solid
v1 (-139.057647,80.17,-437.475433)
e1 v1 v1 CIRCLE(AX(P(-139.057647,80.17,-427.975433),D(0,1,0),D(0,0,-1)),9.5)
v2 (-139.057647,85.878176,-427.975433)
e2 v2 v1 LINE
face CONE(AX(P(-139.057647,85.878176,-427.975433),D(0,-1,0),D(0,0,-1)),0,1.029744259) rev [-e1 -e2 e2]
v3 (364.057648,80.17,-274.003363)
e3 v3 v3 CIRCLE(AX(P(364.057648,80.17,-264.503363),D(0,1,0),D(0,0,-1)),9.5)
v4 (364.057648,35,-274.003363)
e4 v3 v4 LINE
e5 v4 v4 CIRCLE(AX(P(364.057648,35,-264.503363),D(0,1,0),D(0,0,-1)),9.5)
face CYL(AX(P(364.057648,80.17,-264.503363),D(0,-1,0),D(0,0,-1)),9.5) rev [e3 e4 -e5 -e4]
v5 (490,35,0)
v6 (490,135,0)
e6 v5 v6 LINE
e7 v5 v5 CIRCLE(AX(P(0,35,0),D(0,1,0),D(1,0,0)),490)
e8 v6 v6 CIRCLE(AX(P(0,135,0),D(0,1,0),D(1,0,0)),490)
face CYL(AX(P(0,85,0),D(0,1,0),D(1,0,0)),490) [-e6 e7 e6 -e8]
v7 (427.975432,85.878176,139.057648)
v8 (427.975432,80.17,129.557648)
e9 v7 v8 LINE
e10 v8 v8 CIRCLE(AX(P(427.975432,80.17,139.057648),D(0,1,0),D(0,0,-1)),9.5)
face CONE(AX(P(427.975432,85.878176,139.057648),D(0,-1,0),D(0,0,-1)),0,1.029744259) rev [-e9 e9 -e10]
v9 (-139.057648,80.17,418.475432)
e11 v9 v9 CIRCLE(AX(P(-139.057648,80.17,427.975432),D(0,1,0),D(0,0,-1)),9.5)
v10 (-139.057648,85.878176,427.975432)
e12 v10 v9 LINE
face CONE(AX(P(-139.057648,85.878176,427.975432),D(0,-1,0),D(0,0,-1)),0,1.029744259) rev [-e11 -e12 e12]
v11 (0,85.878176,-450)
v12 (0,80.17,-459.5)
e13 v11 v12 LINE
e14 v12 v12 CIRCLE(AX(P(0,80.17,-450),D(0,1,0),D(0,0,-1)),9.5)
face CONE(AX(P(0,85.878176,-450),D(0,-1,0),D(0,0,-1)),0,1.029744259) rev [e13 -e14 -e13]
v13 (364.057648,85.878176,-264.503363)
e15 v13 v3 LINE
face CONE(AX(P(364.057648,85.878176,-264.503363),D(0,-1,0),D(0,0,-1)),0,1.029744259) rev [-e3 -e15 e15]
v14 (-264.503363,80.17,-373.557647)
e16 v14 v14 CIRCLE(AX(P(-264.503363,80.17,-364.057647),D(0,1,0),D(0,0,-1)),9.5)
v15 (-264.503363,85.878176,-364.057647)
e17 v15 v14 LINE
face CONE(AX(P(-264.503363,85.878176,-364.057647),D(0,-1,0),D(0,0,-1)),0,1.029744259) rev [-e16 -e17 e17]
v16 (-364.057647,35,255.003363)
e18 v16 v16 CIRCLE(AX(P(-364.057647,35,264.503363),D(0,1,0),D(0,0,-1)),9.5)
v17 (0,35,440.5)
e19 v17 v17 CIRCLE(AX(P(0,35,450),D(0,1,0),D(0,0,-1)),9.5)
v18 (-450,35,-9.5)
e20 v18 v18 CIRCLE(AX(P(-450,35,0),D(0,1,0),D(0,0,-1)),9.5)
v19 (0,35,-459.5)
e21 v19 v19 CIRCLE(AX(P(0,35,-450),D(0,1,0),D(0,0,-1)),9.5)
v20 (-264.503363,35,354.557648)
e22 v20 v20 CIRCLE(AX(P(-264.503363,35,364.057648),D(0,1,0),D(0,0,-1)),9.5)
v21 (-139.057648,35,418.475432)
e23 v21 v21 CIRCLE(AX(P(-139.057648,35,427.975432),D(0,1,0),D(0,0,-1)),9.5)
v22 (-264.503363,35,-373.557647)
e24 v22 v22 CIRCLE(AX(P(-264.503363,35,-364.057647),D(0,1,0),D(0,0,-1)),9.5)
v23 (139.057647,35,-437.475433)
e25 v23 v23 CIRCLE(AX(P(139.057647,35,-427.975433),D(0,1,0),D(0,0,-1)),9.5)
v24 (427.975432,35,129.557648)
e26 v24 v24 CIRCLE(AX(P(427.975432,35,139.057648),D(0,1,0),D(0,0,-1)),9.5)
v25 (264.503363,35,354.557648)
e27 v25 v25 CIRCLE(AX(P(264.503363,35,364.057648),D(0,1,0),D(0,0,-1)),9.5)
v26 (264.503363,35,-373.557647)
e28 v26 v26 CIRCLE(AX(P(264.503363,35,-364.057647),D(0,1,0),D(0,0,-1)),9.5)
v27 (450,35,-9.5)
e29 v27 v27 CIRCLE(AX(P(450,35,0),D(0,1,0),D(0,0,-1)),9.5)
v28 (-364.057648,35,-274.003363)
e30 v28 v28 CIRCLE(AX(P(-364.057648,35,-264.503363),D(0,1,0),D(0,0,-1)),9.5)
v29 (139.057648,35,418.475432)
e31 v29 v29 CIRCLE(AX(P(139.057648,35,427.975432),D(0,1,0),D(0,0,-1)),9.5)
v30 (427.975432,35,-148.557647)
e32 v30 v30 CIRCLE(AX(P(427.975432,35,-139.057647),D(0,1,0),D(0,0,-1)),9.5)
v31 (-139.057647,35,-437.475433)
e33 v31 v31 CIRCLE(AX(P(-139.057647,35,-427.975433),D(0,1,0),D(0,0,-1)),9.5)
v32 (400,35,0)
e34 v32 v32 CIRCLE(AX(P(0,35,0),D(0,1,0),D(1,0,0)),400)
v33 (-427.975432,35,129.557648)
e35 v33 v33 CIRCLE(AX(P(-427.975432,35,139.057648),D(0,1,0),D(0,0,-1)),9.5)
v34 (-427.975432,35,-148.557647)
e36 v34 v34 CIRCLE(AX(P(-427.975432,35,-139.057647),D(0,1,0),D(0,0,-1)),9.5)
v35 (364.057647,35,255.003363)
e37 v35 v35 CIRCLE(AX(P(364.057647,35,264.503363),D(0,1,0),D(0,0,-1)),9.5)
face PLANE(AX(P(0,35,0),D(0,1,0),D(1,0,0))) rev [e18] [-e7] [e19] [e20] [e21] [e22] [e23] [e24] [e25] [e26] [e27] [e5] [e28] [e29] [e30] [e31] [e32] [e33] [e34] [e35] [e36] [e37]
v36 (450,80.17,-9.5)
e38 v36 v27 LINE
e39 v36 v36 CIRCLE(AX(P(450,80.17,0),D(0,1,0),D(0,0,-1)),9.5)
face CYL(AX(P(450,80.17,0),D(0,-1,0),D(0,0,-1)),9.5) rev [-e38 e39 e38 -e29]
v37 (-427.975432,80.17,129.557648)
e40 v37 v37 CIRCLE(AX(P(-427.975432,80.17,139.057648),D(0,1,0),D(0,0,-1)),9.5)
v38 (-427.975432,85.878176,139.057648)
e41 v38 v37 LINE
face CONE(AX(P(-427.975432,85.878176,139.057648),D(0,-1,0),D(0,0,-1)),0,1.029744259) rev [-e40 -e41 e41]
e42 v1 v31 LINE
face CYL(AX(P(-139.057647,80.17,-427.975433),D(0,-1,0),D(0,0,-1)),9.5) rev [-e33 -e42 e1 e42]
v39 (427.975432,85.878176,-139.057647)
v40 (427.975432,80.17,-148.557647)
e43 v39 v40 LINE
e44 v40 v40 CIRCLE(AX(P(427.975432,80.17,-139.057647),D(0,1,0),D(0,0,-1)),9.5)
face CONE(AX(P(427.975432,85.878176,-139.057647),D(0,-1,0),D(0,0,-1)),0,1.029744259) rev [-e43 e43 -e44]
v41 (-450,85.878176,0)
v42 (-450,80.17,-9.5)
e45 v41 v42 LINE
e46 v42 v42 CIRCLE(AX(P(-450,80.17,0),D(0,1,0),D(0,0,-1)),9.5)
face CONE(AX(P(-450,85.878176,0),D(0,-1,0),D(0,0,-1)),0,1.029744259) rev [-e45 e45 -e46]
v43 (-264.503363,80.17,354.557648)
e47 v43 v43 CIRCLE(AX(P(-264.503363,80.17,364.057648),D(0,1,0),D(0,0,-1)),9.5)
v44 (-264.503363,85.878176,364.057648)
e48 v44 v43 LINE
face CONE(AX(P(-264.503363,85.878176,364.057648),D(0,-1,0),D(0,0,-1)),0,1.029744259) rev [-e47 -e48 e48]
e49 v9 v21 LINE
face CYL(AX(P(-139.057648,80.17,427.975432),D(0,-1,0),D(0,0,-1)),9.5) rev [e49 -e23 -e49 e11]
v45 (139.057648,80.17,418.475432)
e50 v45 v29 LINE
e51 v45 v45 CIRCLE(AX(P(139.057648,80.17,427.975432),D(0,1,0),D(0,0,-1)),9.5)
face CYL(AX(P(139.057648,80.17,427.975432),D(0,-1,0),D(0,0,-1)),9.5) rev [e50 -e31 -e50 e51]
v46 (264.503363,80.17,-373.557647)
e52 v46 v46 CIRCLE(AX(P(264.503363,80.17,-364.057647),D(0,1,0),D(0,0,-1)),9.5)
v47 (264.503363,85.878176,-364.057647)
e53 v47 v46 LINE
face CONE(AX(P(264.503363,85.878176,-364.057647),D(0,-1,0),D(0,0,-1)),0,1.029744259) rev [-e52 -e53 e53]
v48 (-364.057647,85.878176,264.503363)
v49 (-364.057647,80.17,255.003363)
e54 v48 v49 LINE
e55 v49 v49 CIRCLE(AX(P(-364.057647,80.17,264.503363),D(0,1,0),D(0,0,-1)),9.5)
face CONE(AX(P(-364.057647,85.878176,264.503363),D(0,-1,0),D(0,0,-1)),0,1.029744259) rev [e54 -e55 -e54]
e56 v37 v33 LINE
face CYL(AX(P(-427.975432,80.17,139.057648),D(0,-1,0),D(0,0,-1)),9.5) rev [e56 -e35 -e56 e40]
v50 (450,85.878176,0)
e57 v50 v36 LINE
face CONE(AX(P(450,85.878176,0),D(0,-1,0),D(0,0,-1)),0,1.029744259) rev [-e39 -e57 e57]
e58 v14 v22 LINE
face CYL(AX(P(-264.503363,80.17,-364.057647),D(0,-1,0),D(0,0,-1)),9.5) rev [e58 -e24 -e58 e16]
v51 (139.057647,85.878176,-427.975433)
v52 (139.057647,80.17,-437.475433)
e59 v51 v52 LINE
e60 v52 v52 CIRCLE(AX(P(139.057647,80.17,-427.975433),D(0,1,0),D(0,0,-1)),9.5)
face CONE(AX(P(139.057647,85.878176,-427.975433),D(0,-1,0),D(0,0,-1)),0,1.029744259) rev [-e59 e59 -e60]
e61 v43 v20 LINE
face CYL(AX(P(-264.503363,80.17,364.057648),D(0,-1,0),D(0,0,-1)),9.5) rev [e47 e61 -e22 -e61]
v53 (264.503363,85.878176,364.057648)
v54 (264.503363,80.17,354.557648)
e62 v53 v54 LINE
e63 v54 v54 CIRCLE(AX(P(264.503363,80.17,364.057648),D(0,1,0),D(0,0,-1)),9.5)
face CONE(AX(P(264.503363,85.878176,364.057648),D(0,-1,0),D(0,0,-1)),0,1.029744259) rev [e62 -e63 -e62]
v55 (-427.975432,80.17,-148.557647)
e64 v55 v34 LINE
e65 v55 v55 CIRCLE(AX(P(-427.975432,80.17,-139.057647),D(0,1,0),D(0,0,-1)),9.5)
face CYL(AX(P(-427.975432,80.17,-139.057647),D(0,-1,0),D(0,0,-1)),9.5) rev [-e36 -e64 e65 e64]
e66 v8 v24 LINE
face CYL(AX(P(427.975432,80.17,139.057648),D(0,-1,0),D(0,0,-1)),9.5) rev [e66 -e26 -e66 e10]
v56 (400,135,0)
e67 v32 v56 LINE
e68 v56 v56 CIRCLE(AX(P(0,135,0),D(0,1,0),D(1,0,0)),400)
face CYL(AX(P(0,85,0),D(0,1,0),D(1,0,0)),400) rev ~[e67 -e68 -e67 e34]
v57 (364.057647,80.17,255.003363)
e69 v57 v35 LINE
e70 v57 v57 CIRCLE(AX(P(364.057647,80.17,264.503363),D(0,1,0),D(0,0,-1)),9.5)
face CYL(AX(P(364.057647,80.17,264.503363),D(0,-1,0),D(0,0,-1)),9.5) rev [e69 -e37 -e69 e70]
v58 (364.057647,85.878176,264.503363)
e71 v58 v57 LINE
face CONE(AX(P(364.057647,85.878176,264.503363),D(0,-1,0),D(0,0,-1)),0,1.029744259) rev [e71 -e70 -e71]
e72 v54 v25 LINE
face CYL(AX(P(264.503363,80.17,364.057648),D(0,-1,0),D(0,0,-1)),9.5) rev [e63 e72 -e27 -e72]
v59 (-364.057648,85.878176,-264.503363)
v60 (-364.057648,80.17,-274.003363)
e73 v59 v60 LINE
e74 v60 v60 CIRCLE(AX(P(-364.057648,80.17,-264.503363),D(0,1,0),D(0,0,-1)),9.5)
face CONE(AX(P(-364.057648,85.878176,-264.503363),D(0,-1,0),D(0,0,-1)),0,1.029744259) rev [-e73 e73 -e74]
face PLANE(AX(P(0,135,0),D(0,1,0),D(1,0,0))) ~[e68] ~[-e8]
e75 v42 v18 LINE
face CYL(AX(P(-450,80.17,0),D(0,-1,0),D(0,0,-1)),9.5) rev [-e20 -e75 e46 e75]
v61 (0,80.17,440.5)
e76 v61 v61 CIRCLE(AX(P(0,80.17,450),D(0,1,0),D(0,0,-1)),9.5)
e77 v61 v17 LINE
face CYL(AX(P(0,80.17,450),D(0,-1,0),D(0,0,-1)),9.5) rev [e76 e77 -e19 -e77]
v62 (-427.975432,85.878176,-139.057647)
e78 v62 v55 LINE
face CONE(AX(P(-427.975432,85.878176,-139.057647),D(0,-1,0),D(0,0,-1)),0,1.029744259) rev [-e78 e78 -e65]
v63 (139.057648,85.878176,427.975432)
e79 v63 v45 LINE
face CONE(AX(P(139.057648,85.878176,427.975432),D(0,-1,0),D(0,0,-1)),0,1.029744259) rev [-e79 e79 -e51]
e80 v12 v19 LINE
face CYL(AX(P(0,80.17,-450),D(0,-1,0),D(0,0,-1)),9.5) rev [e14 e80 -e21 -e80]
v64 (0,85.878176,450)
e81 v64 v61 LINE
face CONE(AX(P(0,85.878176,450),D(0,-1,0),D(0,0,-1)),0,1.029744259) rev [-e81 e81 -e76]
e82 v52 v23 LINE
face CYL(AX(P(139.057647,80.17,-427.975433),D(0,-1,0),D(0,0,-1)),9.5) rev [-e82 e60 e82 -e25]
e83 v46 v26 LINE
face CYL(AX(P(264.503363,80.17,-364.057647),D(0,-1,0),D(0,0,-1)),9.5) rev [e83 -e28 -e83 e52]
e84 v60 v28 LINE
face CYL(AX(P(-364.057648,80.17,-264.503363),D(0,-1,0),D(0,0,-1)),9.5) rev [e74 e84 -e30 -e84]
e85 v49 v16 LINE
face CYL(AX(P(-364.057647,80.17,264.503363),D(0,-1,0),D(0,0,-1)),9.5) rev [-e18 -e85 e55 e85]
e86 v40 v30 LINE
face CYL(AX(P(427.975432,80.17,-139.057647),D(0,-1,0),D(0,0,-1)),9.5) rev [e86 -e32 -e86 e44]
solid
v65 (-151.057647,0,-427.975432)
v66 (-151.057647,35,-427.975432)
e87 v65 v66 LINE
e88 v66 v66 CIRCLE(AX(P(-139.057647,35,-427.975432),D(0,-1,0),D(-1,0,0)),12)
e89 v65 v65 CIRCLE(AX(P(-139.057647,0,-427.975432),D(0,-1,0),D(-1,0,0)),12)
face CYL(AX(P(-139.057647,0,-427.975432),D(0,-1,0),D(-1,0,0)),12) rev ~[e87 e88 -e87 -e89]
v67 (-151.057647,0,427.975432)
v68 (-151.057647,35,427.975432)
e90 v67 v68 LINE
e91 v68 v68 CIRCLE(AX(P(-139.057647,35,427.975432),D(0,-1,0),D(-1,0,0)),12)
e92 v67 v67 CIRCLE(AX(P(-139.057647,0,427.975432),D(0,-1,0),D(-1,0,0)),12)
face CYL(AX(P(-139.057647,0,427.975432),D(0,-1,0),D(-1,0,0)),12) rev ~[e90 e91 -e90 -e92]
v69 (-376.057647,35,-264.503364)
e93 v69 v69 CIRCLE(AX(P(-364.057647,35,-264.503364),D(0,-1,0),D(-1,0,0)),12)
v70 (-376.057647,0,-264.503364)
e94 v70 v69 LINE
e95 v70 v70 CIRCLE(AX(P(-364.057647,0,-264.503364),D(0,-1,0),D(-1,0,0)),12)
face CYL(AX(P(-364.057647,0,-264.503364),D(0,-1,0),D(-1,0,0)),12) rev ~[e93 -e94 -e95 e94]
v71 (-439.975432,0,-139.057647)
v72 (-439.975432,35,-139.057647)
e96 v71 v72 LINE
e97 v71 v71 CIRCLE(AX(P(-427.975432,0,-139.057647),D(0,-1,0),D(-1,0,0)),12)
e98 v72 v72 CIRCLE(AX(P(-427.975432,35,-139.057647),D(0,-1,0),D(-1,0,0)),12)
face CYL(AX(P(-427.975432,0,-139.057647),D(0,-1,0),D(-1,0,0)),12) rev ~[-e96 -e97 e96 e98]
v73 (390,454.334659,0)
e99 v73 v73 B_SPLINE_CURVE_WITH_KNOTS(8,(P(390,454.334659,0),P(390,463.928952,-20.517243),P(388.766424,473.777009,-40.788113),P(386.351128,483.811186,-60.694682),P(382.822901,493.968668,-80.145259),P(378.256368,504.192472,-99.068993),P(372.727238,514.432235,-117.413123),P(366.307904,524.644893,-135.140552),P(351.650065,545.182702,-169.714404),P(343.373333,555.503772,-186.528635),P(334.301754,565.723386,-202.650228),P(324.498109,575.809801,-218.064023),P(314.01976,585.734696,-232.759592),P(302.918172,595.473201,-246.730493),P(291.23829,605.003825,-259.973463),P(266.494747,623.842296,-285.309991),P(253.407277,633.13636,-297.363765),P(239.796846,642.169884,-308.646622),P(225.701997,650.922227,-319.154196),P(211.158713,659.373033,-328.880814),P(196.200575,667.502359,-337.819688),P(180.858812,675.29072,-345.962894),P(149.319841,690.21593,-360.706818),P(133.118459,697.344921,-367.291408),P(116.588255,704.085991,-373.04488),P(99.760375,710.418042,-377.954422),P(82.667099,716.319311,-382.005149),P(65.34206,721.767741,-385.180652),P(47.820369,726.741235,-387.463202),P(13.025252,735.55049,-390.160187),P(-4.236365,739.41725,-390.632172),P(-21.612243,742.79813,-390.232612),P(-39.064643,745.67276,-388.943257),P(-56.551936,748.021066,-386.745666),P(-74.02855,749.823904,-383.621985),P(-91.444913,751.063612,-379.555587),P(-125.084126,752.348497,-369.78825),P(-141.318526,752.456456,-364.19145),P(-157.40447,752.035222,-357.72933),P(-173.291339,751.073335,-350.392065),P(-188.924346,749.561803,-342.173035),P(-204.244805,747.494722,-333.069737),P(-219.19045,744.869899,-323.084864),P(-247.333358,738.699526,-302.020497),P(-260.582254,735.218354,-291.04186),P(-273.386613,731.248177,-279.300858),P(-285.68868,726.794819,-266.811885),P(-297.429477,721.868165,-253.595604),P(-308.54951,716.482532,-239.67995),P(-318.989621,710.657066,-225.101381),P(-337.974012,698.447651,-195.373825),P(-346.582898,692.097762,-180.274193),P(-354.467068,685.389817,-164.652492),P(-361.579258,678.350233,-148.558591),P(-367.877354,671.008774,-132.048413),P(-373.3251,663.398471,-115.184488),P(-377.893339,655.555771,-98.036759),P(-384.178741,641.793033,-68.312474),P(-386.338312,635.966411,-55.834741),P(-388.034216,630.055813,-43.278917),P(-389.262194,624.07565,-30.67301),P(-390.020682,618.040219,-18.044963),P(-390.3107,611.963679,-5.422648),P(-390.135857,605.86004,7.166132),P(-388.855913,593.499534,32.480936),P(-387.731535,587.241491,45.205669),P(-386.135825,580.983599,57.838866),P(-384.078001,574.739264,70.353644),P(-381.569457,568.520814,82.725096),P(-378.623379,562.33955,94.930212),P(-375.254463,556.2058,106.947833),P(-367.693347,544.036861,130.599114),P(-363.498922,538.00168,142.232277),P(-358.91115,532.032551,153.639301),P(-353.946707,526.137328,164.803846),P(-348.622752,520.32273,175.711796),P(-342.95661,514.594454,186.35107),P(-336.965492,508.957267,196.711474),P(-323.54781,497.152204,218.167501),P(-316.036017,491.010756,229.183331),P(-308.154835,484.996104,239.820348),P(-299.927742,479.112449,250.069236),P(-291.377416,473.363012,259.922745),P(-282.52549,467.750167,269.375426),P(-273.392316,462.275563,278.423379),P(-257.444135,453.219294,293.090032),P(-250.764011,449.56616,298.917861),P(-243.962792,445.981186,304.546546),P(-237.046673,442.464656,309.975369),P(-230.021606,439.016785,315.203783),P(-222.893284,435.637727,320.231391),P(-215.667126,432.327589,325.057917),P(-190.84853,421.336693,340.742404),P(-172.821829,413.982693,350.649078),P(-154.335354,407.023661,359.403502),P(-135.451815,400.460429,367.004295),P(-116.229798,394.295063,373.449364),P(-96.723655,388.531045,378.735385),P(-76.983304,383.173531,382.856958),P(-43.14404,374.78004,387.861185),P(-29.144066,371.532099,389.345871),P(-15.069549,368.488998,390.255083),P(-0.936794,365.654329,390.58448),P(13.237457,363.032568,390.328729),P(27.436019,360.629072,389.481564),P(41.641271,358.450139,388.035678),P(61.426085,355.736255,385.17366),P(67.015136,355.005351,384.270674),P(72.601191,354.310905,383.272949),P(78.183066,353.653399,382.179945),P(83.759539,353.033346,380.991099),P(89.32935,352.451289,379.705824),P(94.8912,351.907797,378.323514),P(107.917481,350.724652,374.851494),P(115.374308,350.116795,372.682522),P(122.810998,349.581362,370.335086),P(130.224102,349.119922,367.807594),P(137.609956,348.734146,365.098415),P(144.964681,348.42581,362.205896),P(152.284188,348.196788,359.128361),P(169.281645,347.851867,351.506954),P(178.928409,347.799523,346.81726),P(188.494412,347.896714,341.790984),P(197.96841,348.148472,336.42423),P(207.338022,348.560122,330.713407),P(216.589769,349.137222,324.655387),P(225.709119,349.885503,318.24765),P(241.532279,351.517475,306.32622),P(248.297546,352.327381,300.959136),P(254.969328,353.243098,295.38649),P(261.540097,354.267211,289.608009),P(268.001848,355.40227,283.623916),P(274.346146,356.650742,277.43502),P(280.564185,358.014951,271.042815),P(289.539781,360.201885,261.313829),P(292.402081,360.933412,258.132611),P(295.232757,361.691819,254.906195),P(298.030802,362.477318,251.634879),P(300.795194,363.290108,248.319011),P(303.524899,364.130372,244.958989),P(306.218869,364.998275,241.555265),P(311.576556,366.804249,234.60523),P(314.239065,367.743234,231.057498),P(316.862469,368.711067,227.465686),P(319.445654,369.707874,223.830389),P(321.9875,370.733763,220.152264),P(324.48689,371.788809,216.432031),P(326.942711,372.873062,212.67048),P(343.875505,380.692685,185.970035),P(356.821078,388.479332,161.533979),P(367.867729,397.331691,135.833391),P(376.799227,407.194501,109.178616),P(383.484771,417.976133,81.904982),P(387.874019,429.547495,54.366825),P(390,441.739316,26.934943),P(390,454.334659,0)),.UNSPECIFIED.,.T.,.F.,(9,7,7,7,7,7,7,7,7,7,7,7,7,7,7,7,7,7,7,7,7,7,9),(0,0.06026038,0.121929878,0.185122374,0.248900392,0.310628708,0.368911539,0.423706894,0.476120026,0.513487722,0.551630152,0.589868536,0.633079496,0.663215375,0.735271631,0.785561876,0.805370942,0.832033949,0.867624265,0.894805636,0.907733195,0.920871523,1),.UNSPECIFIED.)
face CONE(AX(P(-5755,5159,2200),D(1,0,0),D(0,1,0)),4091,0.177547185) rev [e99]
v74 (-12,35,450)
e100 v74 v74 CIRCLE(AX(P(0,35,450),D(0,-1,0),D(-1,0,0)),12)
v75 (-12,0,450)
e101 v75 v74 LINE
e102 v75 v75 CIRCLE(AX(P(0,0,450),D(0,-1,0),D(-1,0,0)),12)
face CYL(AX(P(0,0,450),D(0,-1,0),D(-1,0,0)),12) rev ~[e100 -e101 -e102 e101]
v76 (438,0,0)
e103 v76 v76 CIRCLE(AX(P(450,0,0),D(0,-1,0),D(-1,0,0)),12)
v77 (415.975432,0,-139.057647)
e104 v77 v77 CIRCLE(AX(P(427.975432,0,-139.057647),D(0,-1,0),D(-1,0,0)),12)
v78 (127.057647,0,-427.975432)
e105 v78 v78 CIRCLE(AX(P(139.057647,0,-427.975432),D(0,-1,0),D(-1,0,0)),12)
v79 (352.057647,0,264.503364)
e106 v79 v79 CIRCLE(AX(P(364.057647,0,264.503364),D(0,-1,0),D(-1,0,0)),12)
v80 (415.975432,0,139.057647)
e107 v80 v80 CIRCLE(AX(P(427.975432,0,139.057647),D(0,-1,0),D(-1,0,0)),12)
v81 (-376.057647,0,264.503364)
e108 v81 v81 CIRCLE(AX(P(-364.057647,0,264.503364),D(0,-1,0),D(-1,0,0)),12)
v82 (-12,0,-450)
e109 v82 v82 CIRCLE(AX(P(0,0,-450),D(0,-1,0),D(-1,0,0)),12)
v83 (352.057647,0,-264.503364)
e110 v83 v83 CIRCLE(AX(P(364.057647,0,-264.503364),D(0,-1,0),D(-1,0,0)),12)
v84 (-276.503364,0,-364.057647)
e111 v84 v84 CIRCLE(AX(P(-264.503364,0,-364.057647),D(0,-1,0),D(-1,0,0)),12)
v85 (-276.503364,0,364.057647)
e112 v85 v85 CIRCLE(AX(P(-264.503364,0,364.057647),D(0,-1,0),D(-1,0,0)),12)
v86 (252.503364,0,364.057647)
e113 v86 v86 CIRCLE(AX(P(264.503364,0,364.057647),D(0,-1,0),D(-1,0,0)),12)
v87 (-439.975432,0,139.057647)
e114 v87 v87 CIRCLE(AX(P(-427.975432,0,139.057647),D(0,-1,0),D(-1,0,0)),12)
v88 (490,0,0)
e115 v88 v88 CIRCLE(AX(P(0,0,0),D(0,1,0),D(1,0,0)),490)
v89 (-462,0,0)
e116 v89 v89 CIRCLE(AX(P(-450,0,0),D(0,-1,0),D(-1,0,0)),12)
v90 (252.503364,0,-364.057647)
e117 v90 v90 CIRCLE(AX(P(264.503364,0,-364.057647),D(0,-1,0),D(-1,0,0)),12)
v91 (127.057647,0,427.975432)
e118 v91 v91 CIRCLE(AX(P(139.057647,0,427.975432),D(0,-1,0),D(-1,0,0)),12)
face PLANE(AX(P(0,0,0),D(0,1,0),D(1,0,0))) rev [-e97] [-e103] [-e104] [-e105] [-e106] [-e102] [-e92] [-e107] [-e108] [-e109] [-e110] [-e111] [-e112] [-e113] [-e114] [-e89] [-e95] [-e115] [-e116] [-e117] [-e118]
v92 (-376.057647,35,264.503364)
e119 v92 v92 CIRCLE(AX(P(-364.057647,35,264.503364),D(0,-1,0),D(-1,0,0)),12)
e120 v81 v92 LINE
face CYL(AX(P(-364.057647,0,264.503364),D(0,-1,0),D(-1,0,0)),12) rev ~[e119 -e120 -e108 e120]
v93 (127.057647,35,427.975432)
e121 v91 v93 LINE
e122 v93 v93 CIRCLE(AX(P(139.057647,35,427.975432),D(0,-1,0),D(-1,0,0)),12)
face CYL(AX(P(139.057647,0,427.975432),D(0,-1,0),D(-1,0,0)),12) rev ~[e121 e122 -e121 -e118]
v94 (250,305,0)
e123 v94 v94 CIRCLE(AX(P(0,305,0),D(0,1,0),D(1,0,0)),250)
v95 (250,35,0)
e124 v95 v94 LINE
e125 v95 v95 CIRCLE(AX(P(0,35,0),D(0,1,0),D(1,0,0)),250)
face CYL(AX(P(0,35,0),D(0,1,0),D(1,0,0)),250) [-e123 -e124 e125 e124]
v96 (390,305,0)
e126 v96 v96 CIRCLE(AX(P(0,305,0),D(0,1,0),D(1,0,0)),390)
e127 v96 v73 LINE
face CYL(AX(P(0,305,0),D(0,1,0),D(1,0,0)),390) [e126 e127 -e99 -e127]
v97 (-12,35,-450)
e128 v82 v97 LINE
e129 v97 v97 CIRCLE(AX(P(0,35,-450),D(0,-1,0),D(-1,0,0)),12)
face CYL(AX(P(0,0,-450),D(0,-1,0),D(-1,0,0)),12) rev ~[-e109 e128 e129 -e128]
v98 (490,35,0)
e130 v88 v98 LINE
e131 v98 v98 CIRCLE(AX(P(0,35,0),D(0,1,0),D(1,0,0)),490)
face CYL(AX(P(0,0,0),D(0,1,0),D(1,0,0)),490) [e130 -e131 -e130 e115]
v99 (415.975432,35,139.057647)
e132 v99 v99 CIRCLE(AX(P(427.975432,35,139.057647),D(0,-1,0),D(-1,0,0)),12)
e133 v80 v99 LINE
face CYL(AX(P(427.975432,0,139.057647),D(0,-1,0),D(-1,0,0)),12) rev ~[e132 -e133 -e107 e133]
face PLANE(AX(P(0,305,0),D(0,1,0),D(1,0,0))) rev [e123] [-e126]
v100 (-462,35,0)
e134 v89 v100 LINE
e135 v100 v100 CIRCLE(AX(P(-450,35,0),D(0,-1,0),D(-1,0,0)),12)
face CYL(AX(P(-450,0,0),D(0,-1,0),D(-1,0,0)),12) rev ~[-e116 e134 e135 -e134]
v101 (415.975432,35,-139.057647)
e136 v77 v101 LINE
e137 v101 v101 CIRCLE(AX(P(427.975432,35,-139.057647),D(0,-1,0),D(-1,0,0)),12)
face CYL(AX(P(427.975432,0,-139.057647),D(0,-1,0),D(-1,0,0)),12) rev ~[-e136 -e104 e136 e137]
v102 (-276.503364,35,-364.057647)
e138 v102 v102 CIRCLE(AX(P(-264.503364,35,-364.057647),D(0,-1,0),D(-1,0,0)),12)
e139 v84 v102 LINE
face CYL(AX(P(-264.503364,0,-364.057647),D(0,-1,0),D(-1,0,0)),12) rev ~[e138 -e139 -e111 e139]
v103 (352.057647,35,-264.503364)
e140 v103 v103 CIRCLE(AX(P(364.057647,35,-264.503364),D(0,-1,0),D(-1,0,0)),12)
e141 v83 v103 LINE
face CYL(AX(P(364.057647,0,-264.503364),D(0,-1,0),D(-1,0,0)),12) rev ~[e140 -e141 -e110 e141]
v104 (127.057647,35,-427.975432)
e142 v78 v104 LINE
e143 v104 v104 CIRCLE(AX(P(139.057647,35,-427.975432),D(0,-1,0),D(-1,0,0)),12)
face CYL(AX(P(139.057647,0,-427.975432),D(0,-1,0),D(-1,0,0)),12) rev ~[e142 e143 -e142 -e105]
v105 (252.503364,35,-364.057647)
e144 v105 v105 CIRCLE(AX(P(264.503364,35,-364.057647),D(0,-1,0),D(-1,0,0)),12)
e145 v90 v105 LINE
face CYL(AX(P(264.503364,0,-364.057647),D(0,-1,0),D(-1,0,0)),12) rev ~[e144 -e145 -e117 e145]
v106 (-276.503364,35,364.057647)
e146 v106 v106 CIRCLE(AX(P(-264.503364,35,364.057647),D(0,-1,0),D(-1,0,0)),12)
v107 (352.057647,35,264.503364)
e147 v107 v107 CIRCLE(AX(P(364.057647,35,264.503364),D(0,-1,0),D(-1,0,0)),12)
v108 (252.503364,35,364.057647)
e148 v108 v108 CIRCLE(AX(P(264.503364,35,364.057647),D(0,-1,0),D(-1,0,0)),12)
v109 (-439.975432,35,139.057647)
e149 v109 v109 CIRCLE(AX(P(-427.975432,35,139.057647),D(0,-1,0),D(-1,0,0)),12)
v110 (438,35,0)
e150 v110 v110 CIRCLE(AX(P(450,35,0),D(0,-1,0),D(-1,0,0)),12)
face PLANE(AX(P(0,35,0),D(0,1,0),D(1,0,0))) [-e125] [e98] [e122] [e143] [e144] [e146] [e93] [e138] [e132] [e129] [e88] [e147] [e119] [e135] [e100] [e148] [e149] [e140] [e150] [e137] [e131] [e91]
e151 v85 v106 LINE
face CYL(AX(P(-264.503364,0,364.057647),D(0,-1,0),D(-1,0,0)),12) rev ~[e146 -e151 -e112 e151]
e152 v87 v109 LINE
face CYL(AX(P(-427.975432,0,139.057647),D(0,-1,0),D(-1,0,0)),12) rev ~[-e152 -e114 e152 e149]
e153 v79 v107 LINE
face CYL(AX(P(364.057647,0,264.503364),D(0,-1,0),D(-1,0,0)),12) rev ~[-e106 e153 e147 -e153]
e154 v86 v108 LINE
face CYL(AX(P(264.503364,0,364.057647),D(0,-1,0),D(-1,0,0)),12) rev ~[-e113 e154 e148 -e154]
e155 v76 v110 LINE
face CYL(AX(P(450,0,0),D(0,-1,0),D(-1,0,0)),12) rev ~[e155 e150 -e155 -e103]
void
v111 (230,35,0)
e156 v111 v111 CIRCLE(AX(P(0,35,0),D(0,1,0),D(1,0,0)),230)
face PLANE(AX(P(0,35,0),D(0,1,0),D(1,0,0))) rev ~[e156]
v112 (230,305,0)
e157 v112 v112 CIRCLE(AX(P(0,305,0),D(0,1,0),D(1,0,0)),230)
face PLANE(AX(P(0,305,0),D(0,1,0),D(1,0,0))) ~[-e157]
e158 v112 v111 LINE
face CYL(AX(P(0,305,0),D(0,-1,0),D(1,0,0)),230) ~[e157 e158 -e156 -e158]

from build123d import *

# Parameters (mm, degrees)
ESBO_O4_R                            = 12
CORTE_EXTRUS_O1_DEPTH                = 776
ESBO_O3_W                            = 90
ESBO_O3_H                            = 100
FURO_ROSCADO_DE_M20X1_01_AT_2_COUNT  = 2
FURO_ROSCADO_DE_M20X1_01_AT_2_PITCH  = 140.791018536
FURO_ROSCADO_DE_M20X1_01_AT_3_COUNT  = 2
FURO_ROSCADO_DE_M20X1_01_AT_3_PITCH  = 278.115294937
FURO_ROSCADO_DE_M20X1_01_AT_4_COUNT  = 2
FURO_ROSCADO_DE_M20X1_01_AT_4_PITCH  = 408.591449766
FURO_ROSCADO_DE_M20X1_01_AT_5_COUNT  = 2
FURO_ROSCADO_DE_M20X1_01_AT_5_PITCH  = 529.006727063
FURO_ROSCADO_DE_M20X1_01_AT_6_COUNT  = 2
FURO_ROSCADO_DE_M20X1_01_AT_6_PITCH  = 636.396103068
FURO_ROSCADO_DE_M20X1_01_AT_7_COUNT  = 2
FURO_ROSCADO_DE_M20X1_01_AT_7_PITCH  = 728.115294937
FURO_ROSCADO_DE_M20X1_01_AT_8_COUNT  = 2
FURO_ROSCADO_DE_M20X1_01_AT_8_PITCH  = 801.90587177
FURO_ROSCADO_DE_M20X1_01_AT_9_COUNT  = 2
FURO_ROSCADO_DE_M20X1_01_AT_9_PITCH  = 855.950864666
FURO_ROSCADO_DE_M20X1_01_AT_10_COUNT = 2
FURO_ROSCADO_DE_M20X1_01_AT_10_PITCH = 888.919506536
FURO_ROSCADO_DE_M20X1_01_AT_11_COUNT = 2
FURO_ROSCADO_DE_M20X1_01_AT_11_PITCH = 900
FURO_ROSCADO_DE_M20X1_01_AT_12_COUNT = 2
FURO_ROSCADO_DE_M20X1_01_AT_12_PITCH = 888.919506536
FURO_ROSCADO_DE_M20X1_01_AT_13_COUNT = 2
FURO_ROSCADO_DE_M20X1_01_AT_13_PITCH = 855.950864666
FURO_ROSCADO_DE_M20X1_01_AT_14_COUNT = 2
FURO_ROSCADO_DE_M20X1_01_AT_14_PITCH = 801.90587177
FURO_ROSCADO_DE_M20X1_01_AT_15_COUNT = 2
FURO_ROSCADO_DE_M20X1_01_AT_15_PITCH = 728.115294937
FURO_ROSCADO_DE_M20X1_01_AT_16_COUNT = 2
FURO_ROSCADO_DE_M20X1_01_AT_16_PITCH = 636.396103068
FURO_ROSCADO_DE_M20X1_01_AT_17_COUNT = 2
FURO_ROSCADO_DE_M20X1_01_AT_17_PITCH = 529.006727063
FURO_ROSCADO_DE_M20X1_01_AT_18_COUNT = 2
FURO_ROSCADO_DE_M20X1_01_AT_18_PITCH = 408.591449766
FURO_ROSCADO_DE_M20X1_01_AT_19_COUNT = 2
FURO_ROSCADO_DE_M20X1_01_AT_19_PITCH = 278.115294937
FURO_ROSCADO_DE_M20X1_01_AT_20_COUNT = 2
FURO_ROSCADO_DE_M20X1_01_AT_20_PITCH = 140.791018536


with BuildPart() as part:
    # Esboço2 → Revolução1 (revolve)
    with BuildSketch(Plane.XY):
        Polygon((0, 0), (490, 0), (490, 35), (250, 35), (250, 305), (390, 305), (390, 775), (0, 775), (0, 305), (230, 305), (230, 35), (0, 35), align=None)
    revolve(axis=Axis((0, 0, 0), (0, 1, 0)))

    # Esboço4 → Corte-extrusão1 (cut, through all)
    with BuildSketch(Plane(origin=(0, 0, 0), x_dir=(-1, 0, 0), z_dir=(0, -1, 0))):
        with Locations((0, -450)):
            Circle(ESBO_O4_R)
        with Locations((-139.057647469, -427.975432333)):
            Circle(ESBO_O4_R)
        with Locations((-264.503363532, -364.057647469)):
            Circle(ESBO_O4_R)
        with Locations((-364.057647469, -264.503363532)):
            Circle(ESBO_O4_R)
        with Locations((-427.975432333, -139.057647469)):
            Circle(ESBO_O4_R)
        with Locations((-450, 0)):
            Circle(ESBO_O4_R)
        with Locations((-427.975432333, 139.057647469)):
            Circle(ESBO_O4_R)
        with Locations((-364.057647469, 264.503363532)):
            Circle(ESBO_O4_R)
        with Locations((-264.503363532, 364.057647469)):
            Circle(ESBO_O4_R)
        with Locations((-139.057647469, 427.975432333)):
            Circle(ESBO_O4_R)
        with Locations((0, 450)):
            Circle(ESBO_O4_R)
        with Locations((139.057647469, 427.975432333)):
            Circle(ESBO_O4_R)
        with Locations((264.503363532, 364.057647469)):
            Circle(ESBO_O4_R)
        with Locations((364.057647469, 264.503363532)):
            Circle(ESBO_O4_R)
        with Locations((427.975432333, 139.057647469)):
            Circle(ESBO_O4_R)
        with Locations((450, 0)):
            Circle(ESBO_O4_R)
        with Locations((427.975432333, -139.057647469)):
            Circle(ESBO_O4_R)
        with Locations((364.057647469, -264.503363532)):
            Circle(ESBO_O4_R)
        with Locations((264.503363532, -364.057647469)):
            Circle(ESBO_O4_R)
        with Locations((139.057647469, -427.975432333)):
            Circle(ESBO_O4_R)
    extrude(amount=-CORTE_EXTRUS_O1_DEPTH, mode=Mode.SUBTRACT)

    # Esboço10 → Corte-Revolução1 (revolve, cut)
    with BuildSketch(Plane.XY.offset(2200)):
        Polygon((-5755, 9250), (1345, 10524), (1345, 5159), (-5755, 5159), align=None)
    revolve(axis=Axis((1345, 5159, 2200), (-1, 0, 0)), mode=Mode.SUBTRACT)


with BuildPart() as body_2:
    # Esboço3 → Revolução2 (revolve)
    with BuildSketch(Plane.XY):
        with Locations((445, 85)):
            Rectangle(ESBO_O3_W, ESBO_O3_H)
    revolve(axis=Axis((0, 0, 0), (0, 1, 0)))

    # Esboço5 → Furo roscado de M20x1.01 (revolve, cut)
    with BuildSketch(Plane(origin=(0, 35, 450), x_dir=(0, 0, -1), z_dir=(1, 0, 0))):
        Polygon((0, 0), (0, 50.878175881), (9.5, 45.17), (9.5, 0), align=None)
    furo_roscado_de_m20x1_01 = revolve(axis=Axis((0, 28.65, 450), (0, 1, 0)), mode=Mode.SUBTRACT)

    # Furo roscado de M20x1.01 at 2: Furo roscado de M20x1.01 ×2
    with Locations(*[Vector(0.987688341, 0, -0.156434465) * (i * FURO_ROSCADO_DE_M20X1_01_AT_2_PITCH) for i in range(1, FURO_ROSCADO_DE_M20X1_01_AT_2_COUNT)]):
        add(furo_roscado_de_m20x1_01, mode=Mode.SUBTRACT)

    # Furo roscado de M20x1.01 at 3: Furo roscado de M20x1.01 ×2
    with Locations(*[Vector(0.951056516, 0, -0.309016994) * (i * FURO_ROSCADO_DE_M20X1_01_AT_3_PITCH) for i in range(1, FURO_ROSCADO_DE_M20X1_01_AT_3_COUNT)]):
        add(furo_roscado_de_m20x1_01, mode=Mode.SUBTRACT)

    # Furo roscado de M20x1.01 at 4: Furo roscado de M20x1.01 ×2
    with Locations(*[Vector(0.891006524, 0, -0.4539905) * (i * FURO_ROSCADO_DE_M20X1_01_AT_4_PITCH) for i in range(1, FURO_ROSCADO_DE_M20X1_01_AT_4_COUNT)]):
        add(furo_roscado_de_m20x1_01, mode=Mode.SUBTRACT)

    # Furo roscado de M20x1.01 at 5: Furo roscado de M20x1.01 ×2
    with Locations(*[Vector(0.809016994, 0, -0.587785252) * (i * FURO_ROSCADO_DE_M20X1_01_AT_5_PITCH) for i in range(1, FURO_ROSCADO_DE_M20X1_01_AT_5_COUNT)]):
        add(furo_roscado_de_m20x1_01, mode=Mode.SUBTRACT)

    # Furo roscado de M20x1.01 at 6: Furo roscado de M20x1.01 ×2
    with Locations(*[Vector(0.707106781, 0, -0.707106781) * (i * FURO_ROSCADO_DE_M20X1_01_AT_6_PITCH) for i in range(1, FURO_ROSCADO_DE_M20X1_01_AT_6_COUNT)]):
        add(furo_roscado_de_m20x1_01, mode=Mode.SUBTRACT)

    # Furo roscado de M20x1.01 at 7: Furo roscado de M20x1.01 ×2
    with Locations(*[Vector(0.587785252, 0, -0.809016994) * (i * FURO_ROSCADO_DE_M20X1_01_AT_7_PITCH) for i in range(1, FURO_ROSCADO_DE_M20X1_01_AT_7_COUNT)]):
        add(furo_roscado_de_m20x1_01, mode=Mode.SUBTRACT)

    # Furo roscado de M20x1.01 at 8: Furo roscado de M20x1.01 ×2
    with Locations(*[Vector(0.4539905, 0, -0.891006524) * (i * FURO_ROSCADO_DE_M20X1_01_AT_8_PITCH) for i in range(1, FURO_ROSCADO_DE_M20X1_01_AT_8_COUNT)]):
        add(furo_roscado_de_m20x1_01, mode=Mode.SUBTRACT)

    # Furo roscado de M20x1.01 at 9: Furo roscado de M20x1.01 ×2
    with Locations(*[Vector(0.309016994, 0, -0.951056516) * (i * FURO_ROSCADO_DE_M20X1_01_AT_9_PITCH) for i in range(1, FURO_ROSCADO_DE_M20X1_01_AT_9_COUNT)]):
        add(furo_roscado_de_m20x1_01, mode=Mode.SUBTRACT)

    # Furo roscado de M20x1.01 at 10: Furo roscado de M20x1.01 ×2
    with Locations(*[Vector(0.156434465, 0, -0.987688341) * (i * FURO_ROSCADO_DE_M20X1_01_AT_10_PITCH) for i in range(1, FURO_ROSCADO_DE_M20X1_01_AT_10_COUNT)]):
        add(furo_roscado_de_m20x1_01, mode=Mode.SUBTRACT)

    # Furo roscado de M20x1.01 at 11: Furo roscado de M20x1.01 ×2
    with Locations(*[(0, 0, -i * FURO_ROSCADO_DE_M20X1_01_AT_11_PITCH) for i in range(1, FURO_ROSCADO_DE_M20X1_01_AT_11_COUNT)]):
        add(furo_roscado_de_m20x1_01, mode=Mode.SUBTRACT)

    # Furo roscado de M20x1.01 at 12: Furo roscado de M20x1.01 ×2
    with Locations(*[Vector(-0.156434465, 0, -0.987688341) * (i * FURO_ROSCADO_DE_M20X1_01_AT_12_PITCH) for i in range(1, FURO_ROSCADO_DE_M20X1_01_AT_12_COUNT)]):
        add(furo_roscado_de_m20x1_01, mode=Mode.SUBTRACT)

    # Furo roscado de M20x1.01 at 13: Furo roscado de M20x1.01 ×2
    with Locations(*[Vector(-0.309016994, 0, -0.951056516) * (i * FURO_ROSCADO_DE_M20X1_01_AT_13_PITCH) for i in range(1, FURO_ROSCADO_DE_M20X1_01_AT_13_COUNT)]):
        add(furo_roscado_de_m20x1_01, mode=Mode.SUBTRACT)

    # Furo roscado de M20x1.01 at 14: Furo roscado de M20x1.01 ×2
    with Locations(*[Vector(-0.4539905, 0, -0.891006524) * (i * FURO_ROSCADO_DE_M20X1_01_AT_14_PITCH) for i in range(1, FURO_ROSCADO_DE_M20X1_01_AT_14_COUNT)]):
        add(furo_roscado_de_m20x1_01, mode=Mode.SUBTRACT)

    # Furo roscado de M20x1.01 at 15: Furo roscado de M20x1.01 ×2
    with Locations(*[Vector(-0.587785252, 0, -0.809016994) * (i * FURO_ROSCADO_DE_M20X1_01_AT_15_PITCH) for i in range(1, FURO_ROSCADO_DE_M20X1_01_AT_15_COUNT)]):
        add(furo_roscado_de_m20x1_01, mode=Mode.SUBTRACT)

    # Furo roscado de M20x1.01 at 16: Furo roscado de M20x1.01 ×2
    with Locations(*[Vector(-0.707106781, 0, -0.707106781) * (i * FURO_ROSCADO_DE_M20X1_01_AT_16_PITCH) for i in range(1, FURO_ROSCADO_DE_M20X1_01_AT_16_COUNT)]):
        add(furo_roscado_de_m20x1_01, mode=Mode.SUBTRACT)

    # Furo roscado de M20x1.01 at 17: Furo roscado de M20x1.01 ×2
    with Locations(*[Vector(-0.809016994, 0, -0.587785252) * (i * FURO_ROSCADO_DE_M20X1_01_AT_17_PITCH) for i in range(1, FURO_ROSCADO_DE_M20X1_01_AT_17_COUNT)]):
        add(furo_roscado_de_m20x1_01, mode=Mode.SUBTRACT)

    # Furo roscado de M20x1.01 at 18: Furo roscado de M20x1.01 ×2
    with Locations(*[Vector(-0.891006524, 0, -0.4539905) * (i * FURO_ROSCADO_DE_M20X1_01_AT_18_PITCH) for i in range(1, FURO_ROSCADO_DE_M20X1_01_AT_18_COUNT)]):
        add(furo_roscado_de_m20x1_01, mode=Mode.SUBTRACT)

    # Furo roscado de M20x1.01 at 19: Furo roscado de M20x1.01 ×2
    with Locations(*[Vector(-0.951056516, 0, -0.309016994) * (i * FURO_ROSCADO_DE_M20X1_01_AT_19_PITCH) for i in range(1, FURO_ROSCADO_DE_M20X1_01_AT_19_COUNT)]):
        add(furo_roscado_de_m20x1_01, mode=Mode.SUBTRACT)

    # Furo roscado de M20x1.01 at 20: Furo roscado de M20x1.01 ×2
    with Locations(*[Vector(-0.987688341, 0, -0.156434465) * (i * FURO_ROSCADO_DE_M20X1_01_AT_20_PITCH) for i in range(1, FURO_ROSCADO_DE_M20X1_01_AT_20_COUNT)]):
        add(furo_roscado_de_m20x1_01, mode=Mode.SUBTRACT)


solid = Compound([part.part, body_2.part])
